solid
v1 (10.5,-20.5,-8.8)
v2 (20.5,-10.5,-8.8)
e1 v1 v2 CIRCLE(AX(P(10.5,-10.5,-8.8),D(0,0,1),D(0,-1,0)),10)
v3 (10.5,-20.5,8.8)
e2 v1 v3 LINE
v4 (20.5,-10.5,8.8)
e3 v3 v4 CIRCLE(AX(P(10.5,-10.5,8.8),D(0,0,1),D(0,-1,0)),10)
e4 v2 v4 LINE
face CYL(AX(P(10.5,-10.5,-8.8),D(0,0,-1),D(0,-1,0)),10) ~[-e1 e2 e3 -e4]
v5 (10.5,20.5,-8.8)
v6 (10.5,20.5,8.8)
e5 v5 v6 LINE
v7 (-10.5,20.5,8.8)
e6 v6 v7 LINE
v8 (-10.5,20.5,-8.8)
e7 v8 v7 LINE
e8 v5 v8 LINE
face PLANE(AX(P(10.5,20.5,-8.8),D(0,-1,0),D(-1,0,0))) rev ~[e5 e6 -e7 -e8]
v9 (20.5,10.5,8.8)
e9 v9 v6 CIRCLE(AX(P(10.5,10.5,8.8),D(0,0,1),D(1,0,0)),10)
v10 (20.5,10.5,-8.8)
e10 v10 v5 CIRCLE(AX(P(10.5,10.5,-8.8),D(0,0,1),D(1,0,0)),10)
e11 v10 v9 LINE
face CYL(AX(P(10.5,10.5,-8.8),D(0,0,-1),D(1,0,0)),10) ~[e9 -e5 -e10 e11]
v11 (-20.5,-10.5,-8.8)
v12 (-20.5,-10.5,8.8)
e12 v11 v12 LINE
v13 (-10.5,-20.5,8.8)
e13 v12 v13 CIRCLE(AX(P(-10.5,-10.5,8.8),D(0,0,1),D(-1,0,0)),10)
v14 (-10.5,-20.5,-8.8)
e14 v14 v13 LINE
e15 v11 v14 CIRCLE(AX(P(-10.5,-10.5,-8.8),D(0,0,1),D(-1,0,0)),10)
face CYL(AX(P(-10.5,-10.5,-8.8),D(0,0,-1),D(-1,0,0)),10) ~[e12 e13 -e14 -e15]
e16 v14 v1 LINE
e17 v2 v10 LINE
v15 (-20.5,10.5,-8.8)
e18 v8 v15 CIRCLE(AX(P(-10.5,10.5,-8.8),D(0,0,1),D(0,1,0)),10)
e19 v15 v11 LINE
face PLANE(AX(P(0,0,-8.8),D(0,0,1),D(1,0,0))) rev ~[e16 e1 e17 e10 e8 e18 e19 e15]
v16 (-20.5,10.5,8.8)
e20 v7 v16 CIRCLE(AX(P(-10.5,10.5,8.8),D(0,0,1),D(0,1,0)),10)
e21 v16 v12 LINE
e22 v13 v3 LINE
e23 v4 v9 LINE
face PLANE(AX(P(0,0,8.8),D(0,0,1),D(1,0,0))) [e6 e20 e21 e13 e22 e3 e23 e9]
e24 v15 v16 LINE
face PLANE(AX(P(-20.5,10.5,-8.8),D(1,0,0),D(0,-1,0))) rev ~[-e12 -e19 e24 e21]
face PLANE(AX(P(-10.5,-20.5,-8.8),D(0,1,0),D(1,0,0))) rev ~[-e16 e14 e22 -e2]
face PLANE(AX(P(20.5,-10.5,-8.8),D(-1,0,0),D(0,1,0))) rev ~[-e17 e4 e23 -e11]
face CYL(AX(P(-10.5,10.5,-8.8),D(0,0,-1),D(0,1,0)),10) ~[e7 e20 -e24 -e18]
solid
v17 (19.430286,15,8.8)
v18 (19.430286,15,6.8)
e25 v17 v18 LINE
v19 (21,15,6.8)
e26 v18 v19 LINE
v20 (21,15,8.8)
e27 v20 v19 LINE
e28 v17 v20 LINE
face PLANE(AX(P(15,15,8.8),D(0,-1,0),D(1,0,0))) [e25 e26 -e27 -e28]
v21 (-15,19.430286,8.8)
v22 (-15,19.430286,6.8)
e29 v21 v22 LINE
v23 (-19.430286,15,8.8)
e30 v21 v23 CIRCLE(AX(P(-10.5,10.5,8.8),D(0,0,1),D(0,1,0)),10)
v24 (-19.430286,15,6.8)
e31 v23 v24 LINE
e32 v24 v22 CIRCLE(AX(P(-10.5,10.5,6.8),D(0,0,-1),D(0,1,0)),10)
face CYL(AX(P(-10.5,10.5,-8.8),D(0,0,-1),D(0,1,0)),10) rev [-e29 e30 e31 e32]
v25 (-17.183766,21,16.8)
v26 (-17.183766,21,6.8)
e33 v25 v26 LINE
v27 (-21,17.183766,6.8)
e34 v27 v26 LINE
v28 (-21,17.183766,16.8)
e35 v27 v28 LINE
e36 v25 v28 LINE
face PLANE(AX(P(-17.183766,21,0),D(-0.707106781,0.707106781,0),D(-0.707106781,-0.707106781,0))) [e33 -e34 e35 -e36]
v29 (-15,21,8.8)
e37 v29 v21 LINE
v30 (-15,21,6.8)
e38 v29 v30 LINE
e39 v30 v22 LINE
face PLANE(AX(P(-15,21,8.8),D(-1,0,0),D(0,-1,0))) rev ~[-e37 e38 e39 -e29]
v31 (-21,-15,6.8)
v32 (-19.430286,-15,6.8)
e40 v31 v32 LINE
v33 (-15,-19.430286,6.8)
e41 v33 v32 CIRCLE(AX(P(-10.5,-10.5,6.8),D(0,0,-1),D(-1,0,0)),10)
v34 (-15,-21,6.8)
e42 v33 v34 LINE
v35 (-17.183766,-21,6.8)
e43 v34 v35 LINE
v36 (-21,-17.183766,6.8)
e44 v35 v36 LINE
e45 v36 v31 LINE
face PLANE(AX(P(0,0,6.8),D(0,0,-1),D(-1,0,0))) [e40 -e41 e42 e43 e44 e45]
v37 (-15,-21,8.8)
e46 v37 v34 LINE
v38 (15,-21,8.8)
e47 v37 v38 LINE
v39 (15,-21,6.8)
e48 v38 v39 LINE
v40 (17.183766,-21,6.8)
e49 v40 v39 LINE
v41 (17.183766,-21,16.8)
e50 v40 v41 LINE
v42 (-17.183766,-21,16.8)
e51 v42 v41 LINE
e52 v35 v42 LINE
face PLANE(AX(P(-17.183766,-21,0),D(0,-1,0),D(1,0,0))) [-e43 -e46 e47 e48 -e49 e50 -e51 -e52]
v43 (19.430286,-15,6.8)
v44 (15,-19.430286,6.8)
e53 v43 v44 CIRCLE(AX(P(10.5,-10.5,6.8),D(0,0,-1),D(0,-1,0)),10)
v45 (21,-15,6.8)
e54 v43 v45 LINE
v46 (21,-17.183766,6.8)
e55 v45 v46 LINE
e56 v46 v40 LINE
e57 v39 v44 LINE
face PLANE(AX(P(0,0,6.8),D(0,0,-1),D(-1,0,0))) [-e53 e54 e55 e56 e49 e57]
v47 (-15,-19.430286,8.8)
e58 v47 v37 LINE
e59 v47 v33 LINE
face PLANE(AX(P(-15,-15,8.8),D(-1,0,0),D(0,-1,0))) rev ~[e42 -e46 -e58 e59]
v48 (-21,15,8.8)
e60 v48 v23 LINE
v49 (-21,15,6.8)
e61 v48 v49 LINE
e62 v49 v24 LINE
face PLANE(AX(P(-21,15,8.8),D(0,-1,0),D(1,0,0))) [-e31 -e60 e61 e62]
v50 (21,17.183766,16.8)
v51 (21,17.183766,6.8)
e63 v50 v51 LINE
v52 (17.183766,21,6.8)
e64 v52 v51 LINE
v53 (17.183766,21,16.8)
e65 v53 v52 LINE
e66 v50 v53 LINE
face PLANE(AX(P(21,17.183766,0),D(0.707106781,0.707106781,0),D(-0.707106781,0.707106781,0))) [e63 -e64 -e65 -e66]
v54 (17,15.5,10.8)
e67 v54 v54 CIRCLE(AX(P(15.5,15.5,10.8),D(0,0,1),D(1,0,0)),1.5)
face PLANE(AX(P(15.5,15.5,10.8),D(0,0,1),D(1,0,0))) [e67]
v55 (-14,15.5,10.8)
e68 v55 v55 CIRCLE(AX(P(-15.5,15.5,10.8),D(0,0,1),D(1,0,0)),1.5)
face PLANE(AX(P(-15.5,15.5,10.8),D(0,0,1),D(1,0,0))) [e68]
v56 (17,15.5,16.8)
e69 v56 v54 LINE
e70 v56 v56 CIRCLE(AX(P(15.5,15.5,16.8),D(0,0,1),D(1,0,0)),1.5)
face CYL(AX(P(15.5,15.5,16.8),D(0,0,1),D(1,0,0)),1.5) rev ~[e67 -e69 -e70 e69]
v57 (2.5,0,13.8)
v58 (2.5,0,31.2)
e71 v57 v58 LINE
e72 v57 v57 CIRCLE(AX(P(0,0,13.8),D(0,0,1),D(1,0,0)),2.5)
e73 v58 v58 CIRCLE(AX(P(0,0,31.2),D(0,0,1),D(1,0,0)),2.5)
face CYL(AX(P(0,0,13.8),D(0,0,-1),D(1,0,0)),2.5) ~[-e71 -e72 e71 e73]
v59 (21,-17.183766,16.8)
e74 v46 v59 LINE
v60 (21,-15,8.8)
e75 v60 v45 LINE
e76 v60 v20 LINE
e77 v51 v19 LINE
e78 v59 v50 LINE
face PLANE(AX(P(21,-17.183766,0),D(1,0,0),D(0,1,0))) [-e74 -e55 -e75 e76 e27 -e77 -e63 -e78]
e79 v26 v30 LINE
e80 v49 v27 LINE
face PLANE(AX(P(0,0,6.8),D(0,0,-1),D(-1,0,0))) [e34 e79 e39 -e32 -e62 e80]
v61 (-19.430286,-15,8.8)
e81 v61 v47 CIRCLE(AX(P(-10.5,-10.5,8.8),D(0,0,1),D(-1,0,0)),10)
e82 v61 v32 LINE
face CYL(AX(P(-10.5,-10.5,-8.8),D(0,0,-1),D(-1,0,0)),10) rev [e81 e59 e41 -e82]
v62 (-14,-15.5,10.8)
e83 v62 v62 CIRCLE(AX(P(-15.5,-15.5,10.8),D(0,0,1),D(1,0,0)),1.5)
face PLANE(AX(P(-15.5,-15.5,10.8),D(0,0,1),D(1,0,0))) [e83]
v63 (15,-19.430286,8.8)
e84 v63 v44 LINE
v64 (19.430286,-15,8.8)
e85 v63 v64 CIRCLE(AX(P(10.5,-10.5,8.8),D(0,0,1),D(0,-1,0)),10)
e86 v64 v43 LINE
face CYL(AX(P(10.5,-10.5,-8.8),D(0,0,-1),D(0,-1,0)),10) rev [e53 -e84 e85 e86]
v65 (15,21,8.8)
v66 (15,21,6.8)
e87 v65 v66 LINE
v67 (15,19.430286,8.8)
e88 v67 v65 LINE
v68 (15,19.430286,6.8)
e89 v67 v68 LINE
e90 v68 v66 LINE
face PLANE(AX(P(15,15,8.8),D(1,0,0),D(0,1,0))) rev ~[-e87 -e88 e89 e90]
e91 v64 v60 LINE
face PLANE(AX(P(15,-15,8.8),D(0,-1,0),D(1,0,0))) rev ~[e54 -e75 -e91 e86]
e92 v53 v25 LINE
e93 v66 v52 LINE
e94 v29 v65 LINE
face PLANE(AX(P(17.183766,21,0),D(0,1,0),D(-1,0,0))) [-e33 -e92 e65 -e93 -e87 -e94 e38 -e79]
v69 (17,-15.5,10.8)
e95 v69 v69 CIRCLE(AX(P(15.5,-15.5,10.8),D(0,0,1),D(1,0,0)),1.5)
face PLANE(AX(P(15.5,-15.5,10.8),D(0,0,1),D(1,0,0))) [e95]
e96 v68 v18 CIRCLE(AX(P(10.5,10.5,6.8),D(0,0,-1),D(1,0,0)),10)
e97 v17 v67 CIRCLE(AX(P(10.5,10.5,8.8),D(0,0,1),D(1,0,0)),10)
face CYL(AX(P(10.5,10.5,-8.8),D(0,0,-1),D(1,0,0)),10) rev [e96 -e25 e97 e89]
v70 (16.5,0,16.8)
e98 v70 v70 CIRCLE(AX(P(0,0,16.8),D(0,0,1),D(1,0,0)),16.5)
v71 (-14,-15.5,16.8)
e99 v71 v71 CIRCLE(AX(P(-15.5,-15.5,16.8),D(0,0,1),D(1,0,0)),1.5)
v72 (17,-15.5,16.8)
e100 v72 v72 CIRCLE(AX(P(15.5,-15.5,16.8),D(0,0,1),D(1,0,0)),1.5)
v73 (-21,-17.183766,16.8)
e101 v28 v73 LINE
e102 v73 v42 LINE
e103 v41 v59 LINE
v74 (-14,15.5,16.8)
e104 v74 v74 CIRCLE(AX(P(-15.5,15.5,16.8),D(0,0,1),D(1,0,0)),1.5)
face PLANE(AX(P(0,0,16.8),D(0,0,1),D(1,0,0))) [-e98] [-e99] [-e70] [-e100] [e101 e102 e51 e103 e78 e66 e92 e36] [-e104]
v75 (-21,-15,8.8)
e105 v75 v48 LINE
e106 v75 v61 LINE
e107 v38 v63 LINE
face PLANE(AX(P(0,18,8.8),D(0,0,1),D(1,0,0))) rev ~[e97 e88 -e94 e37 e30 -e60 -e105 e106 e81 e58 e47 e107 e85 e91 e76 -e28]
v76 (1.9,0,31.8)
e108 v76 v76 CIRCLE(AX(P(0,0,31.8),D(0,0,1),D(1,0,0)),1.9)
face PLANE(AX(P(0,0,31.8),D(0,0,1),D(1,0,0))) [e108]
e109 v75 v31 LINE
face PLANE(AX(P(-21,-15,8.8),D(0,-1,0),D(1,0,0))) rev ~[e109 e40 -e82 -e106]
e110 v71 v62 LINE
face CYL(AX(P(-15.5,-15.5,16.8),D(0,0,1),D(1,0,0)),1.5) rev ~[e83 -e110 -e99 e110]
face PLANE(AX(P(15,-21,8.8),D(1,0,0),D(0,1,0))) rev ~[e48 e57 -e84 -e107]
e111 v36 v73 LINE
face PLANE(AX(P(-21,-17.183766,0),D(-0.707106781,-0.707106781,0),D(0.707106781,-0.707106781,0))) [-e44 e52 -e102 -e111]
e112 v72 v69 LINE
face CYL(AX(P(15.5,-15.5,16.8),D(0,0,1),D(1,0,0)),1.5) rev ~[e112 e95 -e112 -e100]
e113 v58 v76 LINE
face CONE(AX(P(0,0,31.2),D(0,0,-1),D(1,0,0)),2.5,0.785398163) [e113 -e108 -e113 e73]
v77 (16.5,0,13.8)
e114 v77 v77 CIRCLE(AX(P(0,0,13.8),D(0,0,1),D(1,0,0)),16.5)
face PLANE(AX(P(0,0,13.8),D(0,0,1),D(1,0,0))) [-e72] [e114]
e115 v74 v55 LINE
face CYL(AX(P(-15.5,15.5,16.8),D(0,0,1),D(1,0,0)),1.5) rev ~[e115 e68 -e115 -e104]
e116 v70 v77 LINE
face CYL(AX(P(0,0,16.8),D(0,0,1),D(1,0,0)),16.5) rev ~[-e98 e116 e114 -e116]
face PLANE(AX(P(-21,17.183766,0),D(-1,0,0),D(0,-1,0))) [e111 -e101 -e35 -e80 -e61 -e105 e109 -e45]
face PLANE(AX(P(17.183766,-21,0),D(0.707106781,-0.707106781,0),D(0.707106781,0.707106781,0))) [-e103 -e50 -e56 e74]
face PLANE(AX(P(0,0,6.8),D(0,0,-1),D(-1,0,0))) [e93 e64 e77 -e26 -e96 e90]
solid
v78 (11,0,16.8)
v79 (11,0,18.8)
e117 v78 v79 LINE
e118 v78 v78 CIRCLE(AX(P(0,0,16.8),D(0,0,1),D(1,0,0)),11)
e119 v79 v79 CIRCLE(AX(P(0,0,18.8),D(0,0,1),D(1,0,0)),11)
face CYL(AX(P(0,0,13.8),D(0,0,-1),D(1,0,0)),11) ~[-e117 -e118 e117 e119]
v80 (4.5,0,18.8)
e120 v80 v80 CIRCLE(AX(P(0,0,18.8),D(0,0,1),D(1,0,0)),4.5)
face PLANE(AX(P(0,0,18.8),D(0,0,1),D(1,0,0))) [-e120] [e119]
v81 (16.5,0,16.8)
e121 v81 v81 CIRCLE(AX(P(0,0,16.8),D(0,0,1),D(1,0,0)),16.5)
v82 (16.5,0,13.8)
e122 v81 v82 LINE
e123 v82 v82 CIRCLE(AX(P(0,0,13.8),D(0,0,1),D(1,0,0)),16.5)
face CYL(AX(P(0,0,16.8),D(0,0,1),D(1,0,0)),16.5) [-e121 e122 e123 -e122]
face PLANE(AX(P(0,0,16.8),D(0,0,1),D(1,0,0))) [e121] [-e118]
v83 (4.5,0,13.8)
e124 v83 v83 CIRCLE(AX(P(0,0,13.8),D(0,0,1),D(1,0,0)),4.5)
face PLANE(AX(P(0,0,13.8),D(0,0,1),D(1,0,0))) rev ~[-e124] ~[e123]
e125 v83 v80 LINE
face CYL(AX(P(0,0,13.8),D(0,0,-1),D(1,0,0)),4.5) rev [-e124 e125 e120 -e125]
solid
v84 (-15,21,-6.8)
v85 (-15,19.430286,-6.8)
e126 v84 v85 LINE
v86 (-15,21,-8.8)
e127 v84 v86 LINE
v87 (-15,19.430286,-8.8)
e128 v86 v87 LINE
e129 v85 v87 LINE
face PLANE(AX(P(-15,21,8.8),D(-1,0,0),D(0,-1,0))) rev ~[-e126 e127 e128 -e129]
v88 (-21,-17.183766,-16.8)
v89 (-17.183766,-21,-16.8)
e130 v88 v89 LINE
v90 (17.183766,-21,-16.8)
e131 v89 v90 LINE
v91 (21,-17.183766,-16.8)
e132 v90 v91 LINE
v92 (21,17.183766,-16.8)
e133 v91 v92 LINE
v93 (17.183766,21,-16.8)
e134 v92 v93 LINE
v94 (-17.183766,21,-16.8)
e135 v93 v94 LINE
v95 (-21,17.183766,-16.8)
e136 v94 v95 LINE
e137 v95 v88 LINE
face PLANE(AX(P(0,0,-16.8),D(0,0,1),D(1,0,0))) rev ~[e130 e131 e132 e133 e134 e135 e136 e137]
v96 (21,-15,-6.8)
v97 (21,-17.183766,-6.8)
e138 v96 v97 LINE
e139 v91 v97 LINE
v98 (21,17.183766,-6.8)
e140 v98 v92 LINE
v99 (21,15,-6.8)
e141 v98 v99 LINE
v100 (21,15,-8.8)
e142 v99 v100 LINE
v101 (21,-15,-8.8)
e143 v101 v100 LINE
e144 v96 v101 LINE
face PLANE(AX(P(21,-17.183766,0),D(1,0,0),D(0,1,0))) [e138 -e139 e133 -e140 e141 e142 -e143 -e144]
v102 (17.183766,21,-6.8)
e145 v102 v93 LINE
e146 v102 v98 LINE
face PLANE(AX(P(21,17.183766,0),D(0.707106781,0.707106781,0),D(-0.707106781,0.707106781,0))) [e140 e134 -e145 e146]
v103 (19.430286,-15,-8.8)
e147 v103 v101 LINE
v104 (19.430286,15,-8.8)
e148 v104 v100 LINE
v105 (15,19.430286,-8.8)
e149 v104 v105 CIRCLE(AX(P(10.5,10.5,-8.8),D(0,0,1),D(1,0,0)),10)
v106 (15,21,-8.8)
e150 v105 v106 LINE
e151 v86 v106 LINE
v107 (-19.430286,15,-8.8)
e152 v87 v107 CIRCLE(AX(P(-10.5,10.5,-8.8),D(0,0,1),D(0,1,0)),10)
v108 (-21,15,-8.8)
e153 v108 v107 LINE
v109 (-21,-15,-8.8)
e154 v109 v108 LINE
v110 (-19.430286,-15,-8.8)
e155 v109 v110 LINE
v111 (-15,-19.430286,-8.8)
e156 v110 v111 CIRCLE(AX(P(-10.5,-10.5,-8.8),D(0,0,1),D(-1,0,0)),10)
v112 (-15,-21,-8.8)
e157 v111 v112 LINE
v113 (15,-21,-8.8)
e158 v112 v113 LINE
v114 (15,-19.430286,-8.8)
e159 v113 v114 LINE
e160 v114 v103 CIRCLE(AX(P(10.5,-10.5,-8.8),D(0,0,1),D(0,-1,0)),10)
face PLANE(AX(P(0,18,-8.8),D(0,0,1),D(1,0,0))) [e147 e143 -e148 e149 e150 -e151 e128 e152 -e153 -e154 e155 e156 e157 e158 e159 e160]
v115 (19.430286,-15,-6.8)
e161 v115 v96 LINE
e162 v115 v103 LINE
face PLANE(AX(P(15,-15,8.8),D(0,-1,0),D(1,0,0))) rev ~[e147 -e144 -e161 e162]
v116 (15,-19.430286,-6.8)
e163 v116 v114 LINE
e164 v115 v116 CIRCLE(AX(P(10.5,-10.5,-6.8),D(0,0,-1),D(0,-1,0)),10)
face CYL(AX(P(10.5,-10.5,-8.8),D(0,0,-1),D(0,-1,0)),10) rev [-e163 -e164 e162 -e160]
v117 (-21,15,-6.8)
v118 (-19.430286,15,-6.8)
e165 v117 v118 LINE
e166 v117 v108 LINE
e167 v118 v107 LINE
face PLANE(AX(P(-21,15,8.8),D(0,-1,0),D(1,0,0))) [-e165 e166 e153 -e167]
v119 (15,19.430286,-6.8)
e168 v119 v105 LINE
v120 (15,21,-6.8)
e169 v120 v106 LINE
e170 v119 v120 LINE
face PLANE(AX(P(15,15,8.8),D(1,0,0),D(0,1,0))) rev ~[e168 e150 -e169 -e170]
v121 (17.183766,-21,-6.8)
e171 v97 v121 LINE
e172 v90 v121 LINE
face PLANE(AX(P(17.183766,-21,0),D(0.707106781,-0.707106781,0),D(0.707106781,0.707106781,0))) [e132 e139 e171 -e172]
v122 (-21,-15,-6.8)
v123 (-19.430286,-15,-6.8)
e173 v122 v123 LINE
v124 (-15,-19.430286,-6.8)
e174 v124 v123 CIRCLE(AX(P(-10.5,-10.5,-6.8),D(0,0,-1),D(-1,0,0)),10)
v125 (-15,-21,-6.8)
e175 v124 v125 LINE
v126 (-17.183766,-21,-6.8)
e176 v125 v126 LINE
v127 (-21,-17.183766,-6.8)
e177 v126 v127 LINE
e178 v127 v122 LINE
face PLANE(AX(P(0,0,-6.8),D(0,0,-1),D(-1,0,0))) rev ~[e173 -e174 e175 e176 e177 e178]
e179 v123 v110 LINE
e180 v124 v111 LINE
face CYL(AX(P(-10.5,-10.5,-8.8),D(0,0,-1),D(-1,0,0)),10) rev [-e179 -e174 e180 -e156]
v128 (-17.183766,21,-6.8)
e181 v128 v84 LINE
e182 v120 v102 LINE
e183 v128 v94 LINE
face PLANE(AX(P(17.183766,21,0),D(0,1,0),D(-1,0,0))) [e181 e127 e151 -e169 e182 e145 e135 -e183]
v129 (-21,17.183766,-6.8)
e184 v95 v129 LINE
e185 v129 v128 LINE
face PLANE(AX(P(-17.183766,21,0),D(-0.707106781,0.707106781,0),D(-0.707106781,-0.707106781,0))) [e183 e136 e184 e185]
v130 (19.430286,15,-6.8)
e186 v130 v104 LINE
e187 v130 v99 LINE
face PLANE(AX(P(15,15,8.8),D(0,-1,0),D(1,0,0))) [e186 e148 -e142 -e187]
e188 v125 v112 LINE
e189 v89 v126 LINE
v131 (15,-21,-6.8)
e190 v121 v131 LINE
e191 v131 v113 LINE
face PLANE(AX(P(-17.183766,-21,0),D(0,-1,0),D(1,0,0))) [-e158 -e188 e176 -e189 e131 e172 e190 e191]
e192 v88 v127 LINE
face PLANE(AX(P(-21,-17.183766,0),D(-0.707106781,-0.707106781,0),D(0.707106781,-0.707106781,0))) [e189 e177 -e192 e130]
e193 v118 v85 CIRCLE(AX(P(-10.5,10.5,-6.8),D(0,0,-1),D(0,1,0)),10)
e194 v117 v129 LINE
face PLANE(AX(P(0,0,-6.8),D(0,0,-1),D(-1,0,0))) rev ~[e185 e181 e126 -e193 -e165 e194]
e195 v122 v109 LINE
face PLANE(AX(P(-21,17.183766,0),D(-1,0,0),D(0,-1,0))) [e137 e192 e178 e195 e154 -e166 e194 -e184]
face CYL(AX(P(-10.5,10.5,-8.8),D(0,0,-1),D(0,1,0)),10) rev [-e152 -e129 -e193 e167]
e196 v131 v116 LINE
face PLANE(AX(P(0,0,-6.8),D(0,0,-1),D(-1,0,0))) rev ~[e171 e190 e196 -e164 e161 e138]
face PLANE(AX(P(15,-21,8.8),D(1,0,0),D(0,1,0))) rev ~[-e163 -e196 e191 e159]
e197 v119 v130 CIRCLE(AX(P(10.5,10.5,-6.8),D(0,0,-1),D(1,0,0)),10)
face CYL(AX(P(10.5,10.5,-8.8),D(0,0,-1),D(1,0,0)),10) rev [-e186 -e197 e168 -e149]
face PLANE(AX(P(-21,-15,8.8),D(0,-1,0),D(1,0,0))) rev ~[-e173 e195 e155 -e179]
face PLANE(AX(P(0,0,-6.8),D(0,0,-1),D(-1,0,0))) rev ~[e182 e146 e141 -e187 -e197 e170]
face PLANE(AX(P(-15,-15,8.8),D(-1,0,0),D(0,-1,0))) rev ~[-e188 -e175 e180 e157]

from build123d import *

# Parameters (mm, degrees)
SALIENTE_EXTRUIR1_DEPTH = 16.8
CORTAR_EXTRUIR1_START   = -8
CROQUIS2_W              = 30
CROQUIS2_H              = 6
CROQUIS2_H_2            = 30
CROQUIS2_W_2            = 6
CORTAR_EXTRUIR1_DEPTH   = 17.6
CORTAR_EXTRUIR2_START   = -10
CORTAR_EXTRUIR2_DEPTH   = 13.6
CORTAR_EXTRUIR3_START   = -25.6
CORTAR_EXTRUIR3_DEPTH   = 17.6
SALIENTE_EXTRUIR2_START = -25.6
SALIENTE_EXTRUIR2_DEPTH = 17.6
CROQUIS5_R              = 16.5
CROQUIS5_R_2            = 11
CROQUIS5_R_3            = 4.5
CROQUIS5_R_4            = 2.5
CORTAR_EXTRUIR4_DEPTH   = 3
CROQUIS5_3_R            = 16.5
CROQUIS5_3_R_2          = 11
SALIENTE_EXTRUIR3_DEPTH = 3
SALIENTE_EXTRUIR4_START = -3
CROQUIS5_4_R            = 11
CROQUIS5_4_R_2          = 4.5
SALIENTE_EXTRUIR4_DEPTH = 5
SALIENTE_EXTRUIR5_START = -3
CROQUIS5_5_R            = 2.5
SALIENTE_EXTRUIR5_DEPTH = 18
CHAFL_N1_SIZE           = 0.6
CROQUIS6_R              = 1.5
CORTAR_EXTRUIR5_DEPTH   = 6


with BuildPart() as part:
    # Croquis1 → Saliente-Extruir1 (new, symmetric)
    with BuildSketch(Plane.XY):
        Polygon((-17.183766184, 21), (-21, 17.183766184), (-21, -17.183766184), (-17.183766184, -21), (17.183766184, -21), (21, -17.183766184), (21, 17.183766184), (17.183766184, 21), align=None)
    extrude(amount=SALIENTE_EXTRUIR1_DEPTH, both=True)

    # Croquis2 → Cortar-Extruir1 (cut)
    with BuildSketch(Plane.XY.offset(16.8).offset(CORTAR_EXTRUIR1_START)):
        with Locations((0, 18)):
            Rectangle(CROQUIS2_W, CROQUIS2_H)
        Rectangle(CROQUIS2_W, CROQUIS2_H_2)
        with Locations((18, 0)):
            Rectangle(CROQUIS2_W_2, CROQUIS2_H_2)
        with Locations((0, -18)):
            Rectangle(CROQUIS2_W, CROQUIS2_H)
        with Locations((-18, 0)):
            Rectangle(CROQUIS2_W_2, CROQUIS2_H_2)
    extrude(amount=-CORTAR_EXTRUIR1_DEPTH, mode=Mode.SUBTRACT)

    # Croquis3 → Cortar-Extruir2 (cut)
    with BuildSketch(Plane(origin=(0, 0, -16.8), x_dir=(-1, 0, 0), z_dir=(0, 0, -1)).offset(CORTAR_EXTRUIR2_START)):
        Polygon((-17.183766184, 21), (-21, 17.183766184), (-21, -17.183766184), (-17.183766184, -21), (17.183766184, -21), (21, -17.183766184), (21, 17.183766184), (17.183766184, 21), align=None)
    extrude(amount=-CORTAR_EXTRUIR2_DEPTH, mode=Mode.SUBTRACT)


with BuildPart() as cortar_extruir2_piece_1:
    # of the separate pieces the step leaves, piece 1, a body of its own (cortar_extruir2_pieces)
    add(part.part.solids().sort_by_distance((-17.183766184, 21, 16.8))[0])


with BuildPart() as cortar_extruir2_piece_2:
    # of the separate pieces the step leaves, piece 2, a body of its own (cortar_extruir2_pieces)
    add(part.part.solids().sort_by_distance((-17.183766184, 21, -6.8))[0])


with BuildPart() as cortar_extruir3_tool:
    # Croquis4<4> → Cortar-Extruir3 (new body)
    with BuildSketch(Plane.XY.offset(16.8).offset(CORTAR_EXTRUIR3_START)):
        with BuildLine():
            Line((-20.5, 10.5), (-20.5, -10.5))
            ThreePointArc((-20.5, -10.5), (-17.571067812, -17.571067812), (-10.5, -20.5))
            Line((-10.5, -20.5), (10.5, -20.5))
            ThreePointArc((10.5, -20.5), (17.571067812, -17.571067812), (20.5, -10.5))
            Line((20.5, -10.5), (20.5, 10.5))
            ThreePointArc((20.5, 10.5), (17.571067812, 17.571067812), (10.5, 20.5))
            Line((10.5, 20.5), (-10.5, 20.5))
            ThreePointArc((-10.5, 20.5), (-17.571067812, 17.571067812), (-20.5, 10.5))
        make_face()
    extrude(amount=CORTAR_EXTRUIR3_DEPTH)


with BuildPart() as cortar_extruir2_piece_1_1:
    add(cortar_extruir2_piece_1.part)

    # Cortar-Extruir3: cut by cortar_extruir3_tool
    add(cortar_extruir3_tool.part, mode=Mode.SUBTRACT)

    # Croquis5 → Cortar-Extruir4 (cut)
    # profile 1 of 4: a face of its own
    with BuildSketch(Plane.XY.offset(16.8)):
        Circle(CROQUIS5_R)
        Circle(CROQUIS5_R_2, mode=Mode.SUBTRACT)
    # profile 2 of 4: a face of its own
    with BuildSketch(Plane.XY.offset(16.8)):
        Circle(CROQUIS5_R_2)
        Circle(CROQUIS5_R_3, mode=Mode.SUBTRACT)
    # profile 3 of 4: a face of its own
    with BuildSketch(Plane.XY.offset(16.8)):
        Circle(CROQUIS5_R_3)
        Circle(CROQUIS5_R_4, mode=Mode.SUBTRACT)
    # profile 4 of 4: a face of its own
    with BuildSketch(Plane.XY.offset(16.8)):
        Circle(CROQUIS5_R_4)
    extrude(amount=-CORTAR_EXTRUIR4_DEPTH, mode=Mode.SUBTRACT)

    # Croquis5<5> → Saliente-Extruir5 (add)
    with BuildSketch(Plane.XY.offset(16.8).offset(SALIENTE_EXTRUIR5_START)):
        Circle(CROQUIS5_5_R)
    extrude(amount=SALIENTE_EXTRUIR5_DEPTH)

    # Chaflán1
    chafl_n1_edges = [cortar_extruir2_piece_1_1.edges().sort_by_distance(p)[0] for p in [
        (-2.5, 0, 31.8),
    ]]
    chamfer(chafl_n1_edges, length=CHAFL_N1_SIZE)

    # Croquis6 → Cortar-Extruir5 (cut)
    with BuildSketch(Plane.XY.offset(16.8)):
        with Locations((-15.5, -15.5)):
            Circle(CROQUIS6_R)
        with Locations((15.5, -15.5)):
            Circle(CROQUIS6_R)
        with Locations((15.5, 15.5)):
            Circle(CROQUIS6_R)
        with Locations((-15.5, 15.5)):
            Circle(CROQUIS6_R)
    extrude(amount=-CORTAR_EXTRUIR5_DEPTH, mode=Mode.SUBTRACT)


with BuildPart() as cortar_extruir2_piece_2_1:
    add(cortar_extruir2_piece_2.part)

    # Cortar-Extruir3: cut by cortar_extruir3_tool
    add(cortar_extruir3_tool.part, mode=Mode.SUBTRACT)


with BuildPart() as body_3:
    # Croquis4 → Saliente-Extruir2 (new body)
    with BuildSketch(Plane.XY.offset(16.8).offset(SALIENTE_EXTRUIR2_START)):
        with BuildLine():
            Line((-20.5, 10.5), (-20.5, -10.5))
            ThreePointArc((-20.5, -10.5), (-17.571067812, -17.571067812), (-10.5, -20.5))
            Line((-10.5, -20.5), (10.5, -20.5))
            ThreePointArc((10.5, -20.5), (17.571067812, -17.571067812), (20.5, -10.5))
            Line((20.5, -10.5), (20.5, 10.5))
            ThreePointArc((20.5, 10.5), (17.571067812, 17.571067812), (10.5, 20.5))
            Line((10.5, 20.5), (-10.5, 20.5))
            ThreePointArc((-10.5, 20.5), (-17.571067812, 17.571067812), (-20.5, 10.5))
        make_face()
    extrude(amount=SALIENTE_EXTRUIR2_DEPTH)


with BuildPart() as body_4:
    # Croquis5<3> → Saliente-Extruir3 (new body)
    with BuildSketch(Plane.XY.offset(16.8)):
        Circle(CROQUIS5_3_R)
        Circle(CROQUIS5_3_R_2, mode=Mode.SUBTRACT)
    extrude(amount=-SALIENTE_EXTRUIR3_DEPTH)

    # Croquis5<4> → Saliente-Extruir4 (add)
    with BuildSketch(Plane.XY.offset(16.8).offset(SALIENTE_EXTRUIR4_START)):
        Circle(CROQUIS5_4_R)
        Circle(CROQUIS5_4_R_2, mode=Mode.SUBTRACT)
    extrude(amount=SALIENTE_EXTRUIR4_DEPTH)


solid = Compound([cortar_extruir2_piece_1_1.part, cortar_extruir2_piece_2_1.part, body_3.part, body_4.part])
